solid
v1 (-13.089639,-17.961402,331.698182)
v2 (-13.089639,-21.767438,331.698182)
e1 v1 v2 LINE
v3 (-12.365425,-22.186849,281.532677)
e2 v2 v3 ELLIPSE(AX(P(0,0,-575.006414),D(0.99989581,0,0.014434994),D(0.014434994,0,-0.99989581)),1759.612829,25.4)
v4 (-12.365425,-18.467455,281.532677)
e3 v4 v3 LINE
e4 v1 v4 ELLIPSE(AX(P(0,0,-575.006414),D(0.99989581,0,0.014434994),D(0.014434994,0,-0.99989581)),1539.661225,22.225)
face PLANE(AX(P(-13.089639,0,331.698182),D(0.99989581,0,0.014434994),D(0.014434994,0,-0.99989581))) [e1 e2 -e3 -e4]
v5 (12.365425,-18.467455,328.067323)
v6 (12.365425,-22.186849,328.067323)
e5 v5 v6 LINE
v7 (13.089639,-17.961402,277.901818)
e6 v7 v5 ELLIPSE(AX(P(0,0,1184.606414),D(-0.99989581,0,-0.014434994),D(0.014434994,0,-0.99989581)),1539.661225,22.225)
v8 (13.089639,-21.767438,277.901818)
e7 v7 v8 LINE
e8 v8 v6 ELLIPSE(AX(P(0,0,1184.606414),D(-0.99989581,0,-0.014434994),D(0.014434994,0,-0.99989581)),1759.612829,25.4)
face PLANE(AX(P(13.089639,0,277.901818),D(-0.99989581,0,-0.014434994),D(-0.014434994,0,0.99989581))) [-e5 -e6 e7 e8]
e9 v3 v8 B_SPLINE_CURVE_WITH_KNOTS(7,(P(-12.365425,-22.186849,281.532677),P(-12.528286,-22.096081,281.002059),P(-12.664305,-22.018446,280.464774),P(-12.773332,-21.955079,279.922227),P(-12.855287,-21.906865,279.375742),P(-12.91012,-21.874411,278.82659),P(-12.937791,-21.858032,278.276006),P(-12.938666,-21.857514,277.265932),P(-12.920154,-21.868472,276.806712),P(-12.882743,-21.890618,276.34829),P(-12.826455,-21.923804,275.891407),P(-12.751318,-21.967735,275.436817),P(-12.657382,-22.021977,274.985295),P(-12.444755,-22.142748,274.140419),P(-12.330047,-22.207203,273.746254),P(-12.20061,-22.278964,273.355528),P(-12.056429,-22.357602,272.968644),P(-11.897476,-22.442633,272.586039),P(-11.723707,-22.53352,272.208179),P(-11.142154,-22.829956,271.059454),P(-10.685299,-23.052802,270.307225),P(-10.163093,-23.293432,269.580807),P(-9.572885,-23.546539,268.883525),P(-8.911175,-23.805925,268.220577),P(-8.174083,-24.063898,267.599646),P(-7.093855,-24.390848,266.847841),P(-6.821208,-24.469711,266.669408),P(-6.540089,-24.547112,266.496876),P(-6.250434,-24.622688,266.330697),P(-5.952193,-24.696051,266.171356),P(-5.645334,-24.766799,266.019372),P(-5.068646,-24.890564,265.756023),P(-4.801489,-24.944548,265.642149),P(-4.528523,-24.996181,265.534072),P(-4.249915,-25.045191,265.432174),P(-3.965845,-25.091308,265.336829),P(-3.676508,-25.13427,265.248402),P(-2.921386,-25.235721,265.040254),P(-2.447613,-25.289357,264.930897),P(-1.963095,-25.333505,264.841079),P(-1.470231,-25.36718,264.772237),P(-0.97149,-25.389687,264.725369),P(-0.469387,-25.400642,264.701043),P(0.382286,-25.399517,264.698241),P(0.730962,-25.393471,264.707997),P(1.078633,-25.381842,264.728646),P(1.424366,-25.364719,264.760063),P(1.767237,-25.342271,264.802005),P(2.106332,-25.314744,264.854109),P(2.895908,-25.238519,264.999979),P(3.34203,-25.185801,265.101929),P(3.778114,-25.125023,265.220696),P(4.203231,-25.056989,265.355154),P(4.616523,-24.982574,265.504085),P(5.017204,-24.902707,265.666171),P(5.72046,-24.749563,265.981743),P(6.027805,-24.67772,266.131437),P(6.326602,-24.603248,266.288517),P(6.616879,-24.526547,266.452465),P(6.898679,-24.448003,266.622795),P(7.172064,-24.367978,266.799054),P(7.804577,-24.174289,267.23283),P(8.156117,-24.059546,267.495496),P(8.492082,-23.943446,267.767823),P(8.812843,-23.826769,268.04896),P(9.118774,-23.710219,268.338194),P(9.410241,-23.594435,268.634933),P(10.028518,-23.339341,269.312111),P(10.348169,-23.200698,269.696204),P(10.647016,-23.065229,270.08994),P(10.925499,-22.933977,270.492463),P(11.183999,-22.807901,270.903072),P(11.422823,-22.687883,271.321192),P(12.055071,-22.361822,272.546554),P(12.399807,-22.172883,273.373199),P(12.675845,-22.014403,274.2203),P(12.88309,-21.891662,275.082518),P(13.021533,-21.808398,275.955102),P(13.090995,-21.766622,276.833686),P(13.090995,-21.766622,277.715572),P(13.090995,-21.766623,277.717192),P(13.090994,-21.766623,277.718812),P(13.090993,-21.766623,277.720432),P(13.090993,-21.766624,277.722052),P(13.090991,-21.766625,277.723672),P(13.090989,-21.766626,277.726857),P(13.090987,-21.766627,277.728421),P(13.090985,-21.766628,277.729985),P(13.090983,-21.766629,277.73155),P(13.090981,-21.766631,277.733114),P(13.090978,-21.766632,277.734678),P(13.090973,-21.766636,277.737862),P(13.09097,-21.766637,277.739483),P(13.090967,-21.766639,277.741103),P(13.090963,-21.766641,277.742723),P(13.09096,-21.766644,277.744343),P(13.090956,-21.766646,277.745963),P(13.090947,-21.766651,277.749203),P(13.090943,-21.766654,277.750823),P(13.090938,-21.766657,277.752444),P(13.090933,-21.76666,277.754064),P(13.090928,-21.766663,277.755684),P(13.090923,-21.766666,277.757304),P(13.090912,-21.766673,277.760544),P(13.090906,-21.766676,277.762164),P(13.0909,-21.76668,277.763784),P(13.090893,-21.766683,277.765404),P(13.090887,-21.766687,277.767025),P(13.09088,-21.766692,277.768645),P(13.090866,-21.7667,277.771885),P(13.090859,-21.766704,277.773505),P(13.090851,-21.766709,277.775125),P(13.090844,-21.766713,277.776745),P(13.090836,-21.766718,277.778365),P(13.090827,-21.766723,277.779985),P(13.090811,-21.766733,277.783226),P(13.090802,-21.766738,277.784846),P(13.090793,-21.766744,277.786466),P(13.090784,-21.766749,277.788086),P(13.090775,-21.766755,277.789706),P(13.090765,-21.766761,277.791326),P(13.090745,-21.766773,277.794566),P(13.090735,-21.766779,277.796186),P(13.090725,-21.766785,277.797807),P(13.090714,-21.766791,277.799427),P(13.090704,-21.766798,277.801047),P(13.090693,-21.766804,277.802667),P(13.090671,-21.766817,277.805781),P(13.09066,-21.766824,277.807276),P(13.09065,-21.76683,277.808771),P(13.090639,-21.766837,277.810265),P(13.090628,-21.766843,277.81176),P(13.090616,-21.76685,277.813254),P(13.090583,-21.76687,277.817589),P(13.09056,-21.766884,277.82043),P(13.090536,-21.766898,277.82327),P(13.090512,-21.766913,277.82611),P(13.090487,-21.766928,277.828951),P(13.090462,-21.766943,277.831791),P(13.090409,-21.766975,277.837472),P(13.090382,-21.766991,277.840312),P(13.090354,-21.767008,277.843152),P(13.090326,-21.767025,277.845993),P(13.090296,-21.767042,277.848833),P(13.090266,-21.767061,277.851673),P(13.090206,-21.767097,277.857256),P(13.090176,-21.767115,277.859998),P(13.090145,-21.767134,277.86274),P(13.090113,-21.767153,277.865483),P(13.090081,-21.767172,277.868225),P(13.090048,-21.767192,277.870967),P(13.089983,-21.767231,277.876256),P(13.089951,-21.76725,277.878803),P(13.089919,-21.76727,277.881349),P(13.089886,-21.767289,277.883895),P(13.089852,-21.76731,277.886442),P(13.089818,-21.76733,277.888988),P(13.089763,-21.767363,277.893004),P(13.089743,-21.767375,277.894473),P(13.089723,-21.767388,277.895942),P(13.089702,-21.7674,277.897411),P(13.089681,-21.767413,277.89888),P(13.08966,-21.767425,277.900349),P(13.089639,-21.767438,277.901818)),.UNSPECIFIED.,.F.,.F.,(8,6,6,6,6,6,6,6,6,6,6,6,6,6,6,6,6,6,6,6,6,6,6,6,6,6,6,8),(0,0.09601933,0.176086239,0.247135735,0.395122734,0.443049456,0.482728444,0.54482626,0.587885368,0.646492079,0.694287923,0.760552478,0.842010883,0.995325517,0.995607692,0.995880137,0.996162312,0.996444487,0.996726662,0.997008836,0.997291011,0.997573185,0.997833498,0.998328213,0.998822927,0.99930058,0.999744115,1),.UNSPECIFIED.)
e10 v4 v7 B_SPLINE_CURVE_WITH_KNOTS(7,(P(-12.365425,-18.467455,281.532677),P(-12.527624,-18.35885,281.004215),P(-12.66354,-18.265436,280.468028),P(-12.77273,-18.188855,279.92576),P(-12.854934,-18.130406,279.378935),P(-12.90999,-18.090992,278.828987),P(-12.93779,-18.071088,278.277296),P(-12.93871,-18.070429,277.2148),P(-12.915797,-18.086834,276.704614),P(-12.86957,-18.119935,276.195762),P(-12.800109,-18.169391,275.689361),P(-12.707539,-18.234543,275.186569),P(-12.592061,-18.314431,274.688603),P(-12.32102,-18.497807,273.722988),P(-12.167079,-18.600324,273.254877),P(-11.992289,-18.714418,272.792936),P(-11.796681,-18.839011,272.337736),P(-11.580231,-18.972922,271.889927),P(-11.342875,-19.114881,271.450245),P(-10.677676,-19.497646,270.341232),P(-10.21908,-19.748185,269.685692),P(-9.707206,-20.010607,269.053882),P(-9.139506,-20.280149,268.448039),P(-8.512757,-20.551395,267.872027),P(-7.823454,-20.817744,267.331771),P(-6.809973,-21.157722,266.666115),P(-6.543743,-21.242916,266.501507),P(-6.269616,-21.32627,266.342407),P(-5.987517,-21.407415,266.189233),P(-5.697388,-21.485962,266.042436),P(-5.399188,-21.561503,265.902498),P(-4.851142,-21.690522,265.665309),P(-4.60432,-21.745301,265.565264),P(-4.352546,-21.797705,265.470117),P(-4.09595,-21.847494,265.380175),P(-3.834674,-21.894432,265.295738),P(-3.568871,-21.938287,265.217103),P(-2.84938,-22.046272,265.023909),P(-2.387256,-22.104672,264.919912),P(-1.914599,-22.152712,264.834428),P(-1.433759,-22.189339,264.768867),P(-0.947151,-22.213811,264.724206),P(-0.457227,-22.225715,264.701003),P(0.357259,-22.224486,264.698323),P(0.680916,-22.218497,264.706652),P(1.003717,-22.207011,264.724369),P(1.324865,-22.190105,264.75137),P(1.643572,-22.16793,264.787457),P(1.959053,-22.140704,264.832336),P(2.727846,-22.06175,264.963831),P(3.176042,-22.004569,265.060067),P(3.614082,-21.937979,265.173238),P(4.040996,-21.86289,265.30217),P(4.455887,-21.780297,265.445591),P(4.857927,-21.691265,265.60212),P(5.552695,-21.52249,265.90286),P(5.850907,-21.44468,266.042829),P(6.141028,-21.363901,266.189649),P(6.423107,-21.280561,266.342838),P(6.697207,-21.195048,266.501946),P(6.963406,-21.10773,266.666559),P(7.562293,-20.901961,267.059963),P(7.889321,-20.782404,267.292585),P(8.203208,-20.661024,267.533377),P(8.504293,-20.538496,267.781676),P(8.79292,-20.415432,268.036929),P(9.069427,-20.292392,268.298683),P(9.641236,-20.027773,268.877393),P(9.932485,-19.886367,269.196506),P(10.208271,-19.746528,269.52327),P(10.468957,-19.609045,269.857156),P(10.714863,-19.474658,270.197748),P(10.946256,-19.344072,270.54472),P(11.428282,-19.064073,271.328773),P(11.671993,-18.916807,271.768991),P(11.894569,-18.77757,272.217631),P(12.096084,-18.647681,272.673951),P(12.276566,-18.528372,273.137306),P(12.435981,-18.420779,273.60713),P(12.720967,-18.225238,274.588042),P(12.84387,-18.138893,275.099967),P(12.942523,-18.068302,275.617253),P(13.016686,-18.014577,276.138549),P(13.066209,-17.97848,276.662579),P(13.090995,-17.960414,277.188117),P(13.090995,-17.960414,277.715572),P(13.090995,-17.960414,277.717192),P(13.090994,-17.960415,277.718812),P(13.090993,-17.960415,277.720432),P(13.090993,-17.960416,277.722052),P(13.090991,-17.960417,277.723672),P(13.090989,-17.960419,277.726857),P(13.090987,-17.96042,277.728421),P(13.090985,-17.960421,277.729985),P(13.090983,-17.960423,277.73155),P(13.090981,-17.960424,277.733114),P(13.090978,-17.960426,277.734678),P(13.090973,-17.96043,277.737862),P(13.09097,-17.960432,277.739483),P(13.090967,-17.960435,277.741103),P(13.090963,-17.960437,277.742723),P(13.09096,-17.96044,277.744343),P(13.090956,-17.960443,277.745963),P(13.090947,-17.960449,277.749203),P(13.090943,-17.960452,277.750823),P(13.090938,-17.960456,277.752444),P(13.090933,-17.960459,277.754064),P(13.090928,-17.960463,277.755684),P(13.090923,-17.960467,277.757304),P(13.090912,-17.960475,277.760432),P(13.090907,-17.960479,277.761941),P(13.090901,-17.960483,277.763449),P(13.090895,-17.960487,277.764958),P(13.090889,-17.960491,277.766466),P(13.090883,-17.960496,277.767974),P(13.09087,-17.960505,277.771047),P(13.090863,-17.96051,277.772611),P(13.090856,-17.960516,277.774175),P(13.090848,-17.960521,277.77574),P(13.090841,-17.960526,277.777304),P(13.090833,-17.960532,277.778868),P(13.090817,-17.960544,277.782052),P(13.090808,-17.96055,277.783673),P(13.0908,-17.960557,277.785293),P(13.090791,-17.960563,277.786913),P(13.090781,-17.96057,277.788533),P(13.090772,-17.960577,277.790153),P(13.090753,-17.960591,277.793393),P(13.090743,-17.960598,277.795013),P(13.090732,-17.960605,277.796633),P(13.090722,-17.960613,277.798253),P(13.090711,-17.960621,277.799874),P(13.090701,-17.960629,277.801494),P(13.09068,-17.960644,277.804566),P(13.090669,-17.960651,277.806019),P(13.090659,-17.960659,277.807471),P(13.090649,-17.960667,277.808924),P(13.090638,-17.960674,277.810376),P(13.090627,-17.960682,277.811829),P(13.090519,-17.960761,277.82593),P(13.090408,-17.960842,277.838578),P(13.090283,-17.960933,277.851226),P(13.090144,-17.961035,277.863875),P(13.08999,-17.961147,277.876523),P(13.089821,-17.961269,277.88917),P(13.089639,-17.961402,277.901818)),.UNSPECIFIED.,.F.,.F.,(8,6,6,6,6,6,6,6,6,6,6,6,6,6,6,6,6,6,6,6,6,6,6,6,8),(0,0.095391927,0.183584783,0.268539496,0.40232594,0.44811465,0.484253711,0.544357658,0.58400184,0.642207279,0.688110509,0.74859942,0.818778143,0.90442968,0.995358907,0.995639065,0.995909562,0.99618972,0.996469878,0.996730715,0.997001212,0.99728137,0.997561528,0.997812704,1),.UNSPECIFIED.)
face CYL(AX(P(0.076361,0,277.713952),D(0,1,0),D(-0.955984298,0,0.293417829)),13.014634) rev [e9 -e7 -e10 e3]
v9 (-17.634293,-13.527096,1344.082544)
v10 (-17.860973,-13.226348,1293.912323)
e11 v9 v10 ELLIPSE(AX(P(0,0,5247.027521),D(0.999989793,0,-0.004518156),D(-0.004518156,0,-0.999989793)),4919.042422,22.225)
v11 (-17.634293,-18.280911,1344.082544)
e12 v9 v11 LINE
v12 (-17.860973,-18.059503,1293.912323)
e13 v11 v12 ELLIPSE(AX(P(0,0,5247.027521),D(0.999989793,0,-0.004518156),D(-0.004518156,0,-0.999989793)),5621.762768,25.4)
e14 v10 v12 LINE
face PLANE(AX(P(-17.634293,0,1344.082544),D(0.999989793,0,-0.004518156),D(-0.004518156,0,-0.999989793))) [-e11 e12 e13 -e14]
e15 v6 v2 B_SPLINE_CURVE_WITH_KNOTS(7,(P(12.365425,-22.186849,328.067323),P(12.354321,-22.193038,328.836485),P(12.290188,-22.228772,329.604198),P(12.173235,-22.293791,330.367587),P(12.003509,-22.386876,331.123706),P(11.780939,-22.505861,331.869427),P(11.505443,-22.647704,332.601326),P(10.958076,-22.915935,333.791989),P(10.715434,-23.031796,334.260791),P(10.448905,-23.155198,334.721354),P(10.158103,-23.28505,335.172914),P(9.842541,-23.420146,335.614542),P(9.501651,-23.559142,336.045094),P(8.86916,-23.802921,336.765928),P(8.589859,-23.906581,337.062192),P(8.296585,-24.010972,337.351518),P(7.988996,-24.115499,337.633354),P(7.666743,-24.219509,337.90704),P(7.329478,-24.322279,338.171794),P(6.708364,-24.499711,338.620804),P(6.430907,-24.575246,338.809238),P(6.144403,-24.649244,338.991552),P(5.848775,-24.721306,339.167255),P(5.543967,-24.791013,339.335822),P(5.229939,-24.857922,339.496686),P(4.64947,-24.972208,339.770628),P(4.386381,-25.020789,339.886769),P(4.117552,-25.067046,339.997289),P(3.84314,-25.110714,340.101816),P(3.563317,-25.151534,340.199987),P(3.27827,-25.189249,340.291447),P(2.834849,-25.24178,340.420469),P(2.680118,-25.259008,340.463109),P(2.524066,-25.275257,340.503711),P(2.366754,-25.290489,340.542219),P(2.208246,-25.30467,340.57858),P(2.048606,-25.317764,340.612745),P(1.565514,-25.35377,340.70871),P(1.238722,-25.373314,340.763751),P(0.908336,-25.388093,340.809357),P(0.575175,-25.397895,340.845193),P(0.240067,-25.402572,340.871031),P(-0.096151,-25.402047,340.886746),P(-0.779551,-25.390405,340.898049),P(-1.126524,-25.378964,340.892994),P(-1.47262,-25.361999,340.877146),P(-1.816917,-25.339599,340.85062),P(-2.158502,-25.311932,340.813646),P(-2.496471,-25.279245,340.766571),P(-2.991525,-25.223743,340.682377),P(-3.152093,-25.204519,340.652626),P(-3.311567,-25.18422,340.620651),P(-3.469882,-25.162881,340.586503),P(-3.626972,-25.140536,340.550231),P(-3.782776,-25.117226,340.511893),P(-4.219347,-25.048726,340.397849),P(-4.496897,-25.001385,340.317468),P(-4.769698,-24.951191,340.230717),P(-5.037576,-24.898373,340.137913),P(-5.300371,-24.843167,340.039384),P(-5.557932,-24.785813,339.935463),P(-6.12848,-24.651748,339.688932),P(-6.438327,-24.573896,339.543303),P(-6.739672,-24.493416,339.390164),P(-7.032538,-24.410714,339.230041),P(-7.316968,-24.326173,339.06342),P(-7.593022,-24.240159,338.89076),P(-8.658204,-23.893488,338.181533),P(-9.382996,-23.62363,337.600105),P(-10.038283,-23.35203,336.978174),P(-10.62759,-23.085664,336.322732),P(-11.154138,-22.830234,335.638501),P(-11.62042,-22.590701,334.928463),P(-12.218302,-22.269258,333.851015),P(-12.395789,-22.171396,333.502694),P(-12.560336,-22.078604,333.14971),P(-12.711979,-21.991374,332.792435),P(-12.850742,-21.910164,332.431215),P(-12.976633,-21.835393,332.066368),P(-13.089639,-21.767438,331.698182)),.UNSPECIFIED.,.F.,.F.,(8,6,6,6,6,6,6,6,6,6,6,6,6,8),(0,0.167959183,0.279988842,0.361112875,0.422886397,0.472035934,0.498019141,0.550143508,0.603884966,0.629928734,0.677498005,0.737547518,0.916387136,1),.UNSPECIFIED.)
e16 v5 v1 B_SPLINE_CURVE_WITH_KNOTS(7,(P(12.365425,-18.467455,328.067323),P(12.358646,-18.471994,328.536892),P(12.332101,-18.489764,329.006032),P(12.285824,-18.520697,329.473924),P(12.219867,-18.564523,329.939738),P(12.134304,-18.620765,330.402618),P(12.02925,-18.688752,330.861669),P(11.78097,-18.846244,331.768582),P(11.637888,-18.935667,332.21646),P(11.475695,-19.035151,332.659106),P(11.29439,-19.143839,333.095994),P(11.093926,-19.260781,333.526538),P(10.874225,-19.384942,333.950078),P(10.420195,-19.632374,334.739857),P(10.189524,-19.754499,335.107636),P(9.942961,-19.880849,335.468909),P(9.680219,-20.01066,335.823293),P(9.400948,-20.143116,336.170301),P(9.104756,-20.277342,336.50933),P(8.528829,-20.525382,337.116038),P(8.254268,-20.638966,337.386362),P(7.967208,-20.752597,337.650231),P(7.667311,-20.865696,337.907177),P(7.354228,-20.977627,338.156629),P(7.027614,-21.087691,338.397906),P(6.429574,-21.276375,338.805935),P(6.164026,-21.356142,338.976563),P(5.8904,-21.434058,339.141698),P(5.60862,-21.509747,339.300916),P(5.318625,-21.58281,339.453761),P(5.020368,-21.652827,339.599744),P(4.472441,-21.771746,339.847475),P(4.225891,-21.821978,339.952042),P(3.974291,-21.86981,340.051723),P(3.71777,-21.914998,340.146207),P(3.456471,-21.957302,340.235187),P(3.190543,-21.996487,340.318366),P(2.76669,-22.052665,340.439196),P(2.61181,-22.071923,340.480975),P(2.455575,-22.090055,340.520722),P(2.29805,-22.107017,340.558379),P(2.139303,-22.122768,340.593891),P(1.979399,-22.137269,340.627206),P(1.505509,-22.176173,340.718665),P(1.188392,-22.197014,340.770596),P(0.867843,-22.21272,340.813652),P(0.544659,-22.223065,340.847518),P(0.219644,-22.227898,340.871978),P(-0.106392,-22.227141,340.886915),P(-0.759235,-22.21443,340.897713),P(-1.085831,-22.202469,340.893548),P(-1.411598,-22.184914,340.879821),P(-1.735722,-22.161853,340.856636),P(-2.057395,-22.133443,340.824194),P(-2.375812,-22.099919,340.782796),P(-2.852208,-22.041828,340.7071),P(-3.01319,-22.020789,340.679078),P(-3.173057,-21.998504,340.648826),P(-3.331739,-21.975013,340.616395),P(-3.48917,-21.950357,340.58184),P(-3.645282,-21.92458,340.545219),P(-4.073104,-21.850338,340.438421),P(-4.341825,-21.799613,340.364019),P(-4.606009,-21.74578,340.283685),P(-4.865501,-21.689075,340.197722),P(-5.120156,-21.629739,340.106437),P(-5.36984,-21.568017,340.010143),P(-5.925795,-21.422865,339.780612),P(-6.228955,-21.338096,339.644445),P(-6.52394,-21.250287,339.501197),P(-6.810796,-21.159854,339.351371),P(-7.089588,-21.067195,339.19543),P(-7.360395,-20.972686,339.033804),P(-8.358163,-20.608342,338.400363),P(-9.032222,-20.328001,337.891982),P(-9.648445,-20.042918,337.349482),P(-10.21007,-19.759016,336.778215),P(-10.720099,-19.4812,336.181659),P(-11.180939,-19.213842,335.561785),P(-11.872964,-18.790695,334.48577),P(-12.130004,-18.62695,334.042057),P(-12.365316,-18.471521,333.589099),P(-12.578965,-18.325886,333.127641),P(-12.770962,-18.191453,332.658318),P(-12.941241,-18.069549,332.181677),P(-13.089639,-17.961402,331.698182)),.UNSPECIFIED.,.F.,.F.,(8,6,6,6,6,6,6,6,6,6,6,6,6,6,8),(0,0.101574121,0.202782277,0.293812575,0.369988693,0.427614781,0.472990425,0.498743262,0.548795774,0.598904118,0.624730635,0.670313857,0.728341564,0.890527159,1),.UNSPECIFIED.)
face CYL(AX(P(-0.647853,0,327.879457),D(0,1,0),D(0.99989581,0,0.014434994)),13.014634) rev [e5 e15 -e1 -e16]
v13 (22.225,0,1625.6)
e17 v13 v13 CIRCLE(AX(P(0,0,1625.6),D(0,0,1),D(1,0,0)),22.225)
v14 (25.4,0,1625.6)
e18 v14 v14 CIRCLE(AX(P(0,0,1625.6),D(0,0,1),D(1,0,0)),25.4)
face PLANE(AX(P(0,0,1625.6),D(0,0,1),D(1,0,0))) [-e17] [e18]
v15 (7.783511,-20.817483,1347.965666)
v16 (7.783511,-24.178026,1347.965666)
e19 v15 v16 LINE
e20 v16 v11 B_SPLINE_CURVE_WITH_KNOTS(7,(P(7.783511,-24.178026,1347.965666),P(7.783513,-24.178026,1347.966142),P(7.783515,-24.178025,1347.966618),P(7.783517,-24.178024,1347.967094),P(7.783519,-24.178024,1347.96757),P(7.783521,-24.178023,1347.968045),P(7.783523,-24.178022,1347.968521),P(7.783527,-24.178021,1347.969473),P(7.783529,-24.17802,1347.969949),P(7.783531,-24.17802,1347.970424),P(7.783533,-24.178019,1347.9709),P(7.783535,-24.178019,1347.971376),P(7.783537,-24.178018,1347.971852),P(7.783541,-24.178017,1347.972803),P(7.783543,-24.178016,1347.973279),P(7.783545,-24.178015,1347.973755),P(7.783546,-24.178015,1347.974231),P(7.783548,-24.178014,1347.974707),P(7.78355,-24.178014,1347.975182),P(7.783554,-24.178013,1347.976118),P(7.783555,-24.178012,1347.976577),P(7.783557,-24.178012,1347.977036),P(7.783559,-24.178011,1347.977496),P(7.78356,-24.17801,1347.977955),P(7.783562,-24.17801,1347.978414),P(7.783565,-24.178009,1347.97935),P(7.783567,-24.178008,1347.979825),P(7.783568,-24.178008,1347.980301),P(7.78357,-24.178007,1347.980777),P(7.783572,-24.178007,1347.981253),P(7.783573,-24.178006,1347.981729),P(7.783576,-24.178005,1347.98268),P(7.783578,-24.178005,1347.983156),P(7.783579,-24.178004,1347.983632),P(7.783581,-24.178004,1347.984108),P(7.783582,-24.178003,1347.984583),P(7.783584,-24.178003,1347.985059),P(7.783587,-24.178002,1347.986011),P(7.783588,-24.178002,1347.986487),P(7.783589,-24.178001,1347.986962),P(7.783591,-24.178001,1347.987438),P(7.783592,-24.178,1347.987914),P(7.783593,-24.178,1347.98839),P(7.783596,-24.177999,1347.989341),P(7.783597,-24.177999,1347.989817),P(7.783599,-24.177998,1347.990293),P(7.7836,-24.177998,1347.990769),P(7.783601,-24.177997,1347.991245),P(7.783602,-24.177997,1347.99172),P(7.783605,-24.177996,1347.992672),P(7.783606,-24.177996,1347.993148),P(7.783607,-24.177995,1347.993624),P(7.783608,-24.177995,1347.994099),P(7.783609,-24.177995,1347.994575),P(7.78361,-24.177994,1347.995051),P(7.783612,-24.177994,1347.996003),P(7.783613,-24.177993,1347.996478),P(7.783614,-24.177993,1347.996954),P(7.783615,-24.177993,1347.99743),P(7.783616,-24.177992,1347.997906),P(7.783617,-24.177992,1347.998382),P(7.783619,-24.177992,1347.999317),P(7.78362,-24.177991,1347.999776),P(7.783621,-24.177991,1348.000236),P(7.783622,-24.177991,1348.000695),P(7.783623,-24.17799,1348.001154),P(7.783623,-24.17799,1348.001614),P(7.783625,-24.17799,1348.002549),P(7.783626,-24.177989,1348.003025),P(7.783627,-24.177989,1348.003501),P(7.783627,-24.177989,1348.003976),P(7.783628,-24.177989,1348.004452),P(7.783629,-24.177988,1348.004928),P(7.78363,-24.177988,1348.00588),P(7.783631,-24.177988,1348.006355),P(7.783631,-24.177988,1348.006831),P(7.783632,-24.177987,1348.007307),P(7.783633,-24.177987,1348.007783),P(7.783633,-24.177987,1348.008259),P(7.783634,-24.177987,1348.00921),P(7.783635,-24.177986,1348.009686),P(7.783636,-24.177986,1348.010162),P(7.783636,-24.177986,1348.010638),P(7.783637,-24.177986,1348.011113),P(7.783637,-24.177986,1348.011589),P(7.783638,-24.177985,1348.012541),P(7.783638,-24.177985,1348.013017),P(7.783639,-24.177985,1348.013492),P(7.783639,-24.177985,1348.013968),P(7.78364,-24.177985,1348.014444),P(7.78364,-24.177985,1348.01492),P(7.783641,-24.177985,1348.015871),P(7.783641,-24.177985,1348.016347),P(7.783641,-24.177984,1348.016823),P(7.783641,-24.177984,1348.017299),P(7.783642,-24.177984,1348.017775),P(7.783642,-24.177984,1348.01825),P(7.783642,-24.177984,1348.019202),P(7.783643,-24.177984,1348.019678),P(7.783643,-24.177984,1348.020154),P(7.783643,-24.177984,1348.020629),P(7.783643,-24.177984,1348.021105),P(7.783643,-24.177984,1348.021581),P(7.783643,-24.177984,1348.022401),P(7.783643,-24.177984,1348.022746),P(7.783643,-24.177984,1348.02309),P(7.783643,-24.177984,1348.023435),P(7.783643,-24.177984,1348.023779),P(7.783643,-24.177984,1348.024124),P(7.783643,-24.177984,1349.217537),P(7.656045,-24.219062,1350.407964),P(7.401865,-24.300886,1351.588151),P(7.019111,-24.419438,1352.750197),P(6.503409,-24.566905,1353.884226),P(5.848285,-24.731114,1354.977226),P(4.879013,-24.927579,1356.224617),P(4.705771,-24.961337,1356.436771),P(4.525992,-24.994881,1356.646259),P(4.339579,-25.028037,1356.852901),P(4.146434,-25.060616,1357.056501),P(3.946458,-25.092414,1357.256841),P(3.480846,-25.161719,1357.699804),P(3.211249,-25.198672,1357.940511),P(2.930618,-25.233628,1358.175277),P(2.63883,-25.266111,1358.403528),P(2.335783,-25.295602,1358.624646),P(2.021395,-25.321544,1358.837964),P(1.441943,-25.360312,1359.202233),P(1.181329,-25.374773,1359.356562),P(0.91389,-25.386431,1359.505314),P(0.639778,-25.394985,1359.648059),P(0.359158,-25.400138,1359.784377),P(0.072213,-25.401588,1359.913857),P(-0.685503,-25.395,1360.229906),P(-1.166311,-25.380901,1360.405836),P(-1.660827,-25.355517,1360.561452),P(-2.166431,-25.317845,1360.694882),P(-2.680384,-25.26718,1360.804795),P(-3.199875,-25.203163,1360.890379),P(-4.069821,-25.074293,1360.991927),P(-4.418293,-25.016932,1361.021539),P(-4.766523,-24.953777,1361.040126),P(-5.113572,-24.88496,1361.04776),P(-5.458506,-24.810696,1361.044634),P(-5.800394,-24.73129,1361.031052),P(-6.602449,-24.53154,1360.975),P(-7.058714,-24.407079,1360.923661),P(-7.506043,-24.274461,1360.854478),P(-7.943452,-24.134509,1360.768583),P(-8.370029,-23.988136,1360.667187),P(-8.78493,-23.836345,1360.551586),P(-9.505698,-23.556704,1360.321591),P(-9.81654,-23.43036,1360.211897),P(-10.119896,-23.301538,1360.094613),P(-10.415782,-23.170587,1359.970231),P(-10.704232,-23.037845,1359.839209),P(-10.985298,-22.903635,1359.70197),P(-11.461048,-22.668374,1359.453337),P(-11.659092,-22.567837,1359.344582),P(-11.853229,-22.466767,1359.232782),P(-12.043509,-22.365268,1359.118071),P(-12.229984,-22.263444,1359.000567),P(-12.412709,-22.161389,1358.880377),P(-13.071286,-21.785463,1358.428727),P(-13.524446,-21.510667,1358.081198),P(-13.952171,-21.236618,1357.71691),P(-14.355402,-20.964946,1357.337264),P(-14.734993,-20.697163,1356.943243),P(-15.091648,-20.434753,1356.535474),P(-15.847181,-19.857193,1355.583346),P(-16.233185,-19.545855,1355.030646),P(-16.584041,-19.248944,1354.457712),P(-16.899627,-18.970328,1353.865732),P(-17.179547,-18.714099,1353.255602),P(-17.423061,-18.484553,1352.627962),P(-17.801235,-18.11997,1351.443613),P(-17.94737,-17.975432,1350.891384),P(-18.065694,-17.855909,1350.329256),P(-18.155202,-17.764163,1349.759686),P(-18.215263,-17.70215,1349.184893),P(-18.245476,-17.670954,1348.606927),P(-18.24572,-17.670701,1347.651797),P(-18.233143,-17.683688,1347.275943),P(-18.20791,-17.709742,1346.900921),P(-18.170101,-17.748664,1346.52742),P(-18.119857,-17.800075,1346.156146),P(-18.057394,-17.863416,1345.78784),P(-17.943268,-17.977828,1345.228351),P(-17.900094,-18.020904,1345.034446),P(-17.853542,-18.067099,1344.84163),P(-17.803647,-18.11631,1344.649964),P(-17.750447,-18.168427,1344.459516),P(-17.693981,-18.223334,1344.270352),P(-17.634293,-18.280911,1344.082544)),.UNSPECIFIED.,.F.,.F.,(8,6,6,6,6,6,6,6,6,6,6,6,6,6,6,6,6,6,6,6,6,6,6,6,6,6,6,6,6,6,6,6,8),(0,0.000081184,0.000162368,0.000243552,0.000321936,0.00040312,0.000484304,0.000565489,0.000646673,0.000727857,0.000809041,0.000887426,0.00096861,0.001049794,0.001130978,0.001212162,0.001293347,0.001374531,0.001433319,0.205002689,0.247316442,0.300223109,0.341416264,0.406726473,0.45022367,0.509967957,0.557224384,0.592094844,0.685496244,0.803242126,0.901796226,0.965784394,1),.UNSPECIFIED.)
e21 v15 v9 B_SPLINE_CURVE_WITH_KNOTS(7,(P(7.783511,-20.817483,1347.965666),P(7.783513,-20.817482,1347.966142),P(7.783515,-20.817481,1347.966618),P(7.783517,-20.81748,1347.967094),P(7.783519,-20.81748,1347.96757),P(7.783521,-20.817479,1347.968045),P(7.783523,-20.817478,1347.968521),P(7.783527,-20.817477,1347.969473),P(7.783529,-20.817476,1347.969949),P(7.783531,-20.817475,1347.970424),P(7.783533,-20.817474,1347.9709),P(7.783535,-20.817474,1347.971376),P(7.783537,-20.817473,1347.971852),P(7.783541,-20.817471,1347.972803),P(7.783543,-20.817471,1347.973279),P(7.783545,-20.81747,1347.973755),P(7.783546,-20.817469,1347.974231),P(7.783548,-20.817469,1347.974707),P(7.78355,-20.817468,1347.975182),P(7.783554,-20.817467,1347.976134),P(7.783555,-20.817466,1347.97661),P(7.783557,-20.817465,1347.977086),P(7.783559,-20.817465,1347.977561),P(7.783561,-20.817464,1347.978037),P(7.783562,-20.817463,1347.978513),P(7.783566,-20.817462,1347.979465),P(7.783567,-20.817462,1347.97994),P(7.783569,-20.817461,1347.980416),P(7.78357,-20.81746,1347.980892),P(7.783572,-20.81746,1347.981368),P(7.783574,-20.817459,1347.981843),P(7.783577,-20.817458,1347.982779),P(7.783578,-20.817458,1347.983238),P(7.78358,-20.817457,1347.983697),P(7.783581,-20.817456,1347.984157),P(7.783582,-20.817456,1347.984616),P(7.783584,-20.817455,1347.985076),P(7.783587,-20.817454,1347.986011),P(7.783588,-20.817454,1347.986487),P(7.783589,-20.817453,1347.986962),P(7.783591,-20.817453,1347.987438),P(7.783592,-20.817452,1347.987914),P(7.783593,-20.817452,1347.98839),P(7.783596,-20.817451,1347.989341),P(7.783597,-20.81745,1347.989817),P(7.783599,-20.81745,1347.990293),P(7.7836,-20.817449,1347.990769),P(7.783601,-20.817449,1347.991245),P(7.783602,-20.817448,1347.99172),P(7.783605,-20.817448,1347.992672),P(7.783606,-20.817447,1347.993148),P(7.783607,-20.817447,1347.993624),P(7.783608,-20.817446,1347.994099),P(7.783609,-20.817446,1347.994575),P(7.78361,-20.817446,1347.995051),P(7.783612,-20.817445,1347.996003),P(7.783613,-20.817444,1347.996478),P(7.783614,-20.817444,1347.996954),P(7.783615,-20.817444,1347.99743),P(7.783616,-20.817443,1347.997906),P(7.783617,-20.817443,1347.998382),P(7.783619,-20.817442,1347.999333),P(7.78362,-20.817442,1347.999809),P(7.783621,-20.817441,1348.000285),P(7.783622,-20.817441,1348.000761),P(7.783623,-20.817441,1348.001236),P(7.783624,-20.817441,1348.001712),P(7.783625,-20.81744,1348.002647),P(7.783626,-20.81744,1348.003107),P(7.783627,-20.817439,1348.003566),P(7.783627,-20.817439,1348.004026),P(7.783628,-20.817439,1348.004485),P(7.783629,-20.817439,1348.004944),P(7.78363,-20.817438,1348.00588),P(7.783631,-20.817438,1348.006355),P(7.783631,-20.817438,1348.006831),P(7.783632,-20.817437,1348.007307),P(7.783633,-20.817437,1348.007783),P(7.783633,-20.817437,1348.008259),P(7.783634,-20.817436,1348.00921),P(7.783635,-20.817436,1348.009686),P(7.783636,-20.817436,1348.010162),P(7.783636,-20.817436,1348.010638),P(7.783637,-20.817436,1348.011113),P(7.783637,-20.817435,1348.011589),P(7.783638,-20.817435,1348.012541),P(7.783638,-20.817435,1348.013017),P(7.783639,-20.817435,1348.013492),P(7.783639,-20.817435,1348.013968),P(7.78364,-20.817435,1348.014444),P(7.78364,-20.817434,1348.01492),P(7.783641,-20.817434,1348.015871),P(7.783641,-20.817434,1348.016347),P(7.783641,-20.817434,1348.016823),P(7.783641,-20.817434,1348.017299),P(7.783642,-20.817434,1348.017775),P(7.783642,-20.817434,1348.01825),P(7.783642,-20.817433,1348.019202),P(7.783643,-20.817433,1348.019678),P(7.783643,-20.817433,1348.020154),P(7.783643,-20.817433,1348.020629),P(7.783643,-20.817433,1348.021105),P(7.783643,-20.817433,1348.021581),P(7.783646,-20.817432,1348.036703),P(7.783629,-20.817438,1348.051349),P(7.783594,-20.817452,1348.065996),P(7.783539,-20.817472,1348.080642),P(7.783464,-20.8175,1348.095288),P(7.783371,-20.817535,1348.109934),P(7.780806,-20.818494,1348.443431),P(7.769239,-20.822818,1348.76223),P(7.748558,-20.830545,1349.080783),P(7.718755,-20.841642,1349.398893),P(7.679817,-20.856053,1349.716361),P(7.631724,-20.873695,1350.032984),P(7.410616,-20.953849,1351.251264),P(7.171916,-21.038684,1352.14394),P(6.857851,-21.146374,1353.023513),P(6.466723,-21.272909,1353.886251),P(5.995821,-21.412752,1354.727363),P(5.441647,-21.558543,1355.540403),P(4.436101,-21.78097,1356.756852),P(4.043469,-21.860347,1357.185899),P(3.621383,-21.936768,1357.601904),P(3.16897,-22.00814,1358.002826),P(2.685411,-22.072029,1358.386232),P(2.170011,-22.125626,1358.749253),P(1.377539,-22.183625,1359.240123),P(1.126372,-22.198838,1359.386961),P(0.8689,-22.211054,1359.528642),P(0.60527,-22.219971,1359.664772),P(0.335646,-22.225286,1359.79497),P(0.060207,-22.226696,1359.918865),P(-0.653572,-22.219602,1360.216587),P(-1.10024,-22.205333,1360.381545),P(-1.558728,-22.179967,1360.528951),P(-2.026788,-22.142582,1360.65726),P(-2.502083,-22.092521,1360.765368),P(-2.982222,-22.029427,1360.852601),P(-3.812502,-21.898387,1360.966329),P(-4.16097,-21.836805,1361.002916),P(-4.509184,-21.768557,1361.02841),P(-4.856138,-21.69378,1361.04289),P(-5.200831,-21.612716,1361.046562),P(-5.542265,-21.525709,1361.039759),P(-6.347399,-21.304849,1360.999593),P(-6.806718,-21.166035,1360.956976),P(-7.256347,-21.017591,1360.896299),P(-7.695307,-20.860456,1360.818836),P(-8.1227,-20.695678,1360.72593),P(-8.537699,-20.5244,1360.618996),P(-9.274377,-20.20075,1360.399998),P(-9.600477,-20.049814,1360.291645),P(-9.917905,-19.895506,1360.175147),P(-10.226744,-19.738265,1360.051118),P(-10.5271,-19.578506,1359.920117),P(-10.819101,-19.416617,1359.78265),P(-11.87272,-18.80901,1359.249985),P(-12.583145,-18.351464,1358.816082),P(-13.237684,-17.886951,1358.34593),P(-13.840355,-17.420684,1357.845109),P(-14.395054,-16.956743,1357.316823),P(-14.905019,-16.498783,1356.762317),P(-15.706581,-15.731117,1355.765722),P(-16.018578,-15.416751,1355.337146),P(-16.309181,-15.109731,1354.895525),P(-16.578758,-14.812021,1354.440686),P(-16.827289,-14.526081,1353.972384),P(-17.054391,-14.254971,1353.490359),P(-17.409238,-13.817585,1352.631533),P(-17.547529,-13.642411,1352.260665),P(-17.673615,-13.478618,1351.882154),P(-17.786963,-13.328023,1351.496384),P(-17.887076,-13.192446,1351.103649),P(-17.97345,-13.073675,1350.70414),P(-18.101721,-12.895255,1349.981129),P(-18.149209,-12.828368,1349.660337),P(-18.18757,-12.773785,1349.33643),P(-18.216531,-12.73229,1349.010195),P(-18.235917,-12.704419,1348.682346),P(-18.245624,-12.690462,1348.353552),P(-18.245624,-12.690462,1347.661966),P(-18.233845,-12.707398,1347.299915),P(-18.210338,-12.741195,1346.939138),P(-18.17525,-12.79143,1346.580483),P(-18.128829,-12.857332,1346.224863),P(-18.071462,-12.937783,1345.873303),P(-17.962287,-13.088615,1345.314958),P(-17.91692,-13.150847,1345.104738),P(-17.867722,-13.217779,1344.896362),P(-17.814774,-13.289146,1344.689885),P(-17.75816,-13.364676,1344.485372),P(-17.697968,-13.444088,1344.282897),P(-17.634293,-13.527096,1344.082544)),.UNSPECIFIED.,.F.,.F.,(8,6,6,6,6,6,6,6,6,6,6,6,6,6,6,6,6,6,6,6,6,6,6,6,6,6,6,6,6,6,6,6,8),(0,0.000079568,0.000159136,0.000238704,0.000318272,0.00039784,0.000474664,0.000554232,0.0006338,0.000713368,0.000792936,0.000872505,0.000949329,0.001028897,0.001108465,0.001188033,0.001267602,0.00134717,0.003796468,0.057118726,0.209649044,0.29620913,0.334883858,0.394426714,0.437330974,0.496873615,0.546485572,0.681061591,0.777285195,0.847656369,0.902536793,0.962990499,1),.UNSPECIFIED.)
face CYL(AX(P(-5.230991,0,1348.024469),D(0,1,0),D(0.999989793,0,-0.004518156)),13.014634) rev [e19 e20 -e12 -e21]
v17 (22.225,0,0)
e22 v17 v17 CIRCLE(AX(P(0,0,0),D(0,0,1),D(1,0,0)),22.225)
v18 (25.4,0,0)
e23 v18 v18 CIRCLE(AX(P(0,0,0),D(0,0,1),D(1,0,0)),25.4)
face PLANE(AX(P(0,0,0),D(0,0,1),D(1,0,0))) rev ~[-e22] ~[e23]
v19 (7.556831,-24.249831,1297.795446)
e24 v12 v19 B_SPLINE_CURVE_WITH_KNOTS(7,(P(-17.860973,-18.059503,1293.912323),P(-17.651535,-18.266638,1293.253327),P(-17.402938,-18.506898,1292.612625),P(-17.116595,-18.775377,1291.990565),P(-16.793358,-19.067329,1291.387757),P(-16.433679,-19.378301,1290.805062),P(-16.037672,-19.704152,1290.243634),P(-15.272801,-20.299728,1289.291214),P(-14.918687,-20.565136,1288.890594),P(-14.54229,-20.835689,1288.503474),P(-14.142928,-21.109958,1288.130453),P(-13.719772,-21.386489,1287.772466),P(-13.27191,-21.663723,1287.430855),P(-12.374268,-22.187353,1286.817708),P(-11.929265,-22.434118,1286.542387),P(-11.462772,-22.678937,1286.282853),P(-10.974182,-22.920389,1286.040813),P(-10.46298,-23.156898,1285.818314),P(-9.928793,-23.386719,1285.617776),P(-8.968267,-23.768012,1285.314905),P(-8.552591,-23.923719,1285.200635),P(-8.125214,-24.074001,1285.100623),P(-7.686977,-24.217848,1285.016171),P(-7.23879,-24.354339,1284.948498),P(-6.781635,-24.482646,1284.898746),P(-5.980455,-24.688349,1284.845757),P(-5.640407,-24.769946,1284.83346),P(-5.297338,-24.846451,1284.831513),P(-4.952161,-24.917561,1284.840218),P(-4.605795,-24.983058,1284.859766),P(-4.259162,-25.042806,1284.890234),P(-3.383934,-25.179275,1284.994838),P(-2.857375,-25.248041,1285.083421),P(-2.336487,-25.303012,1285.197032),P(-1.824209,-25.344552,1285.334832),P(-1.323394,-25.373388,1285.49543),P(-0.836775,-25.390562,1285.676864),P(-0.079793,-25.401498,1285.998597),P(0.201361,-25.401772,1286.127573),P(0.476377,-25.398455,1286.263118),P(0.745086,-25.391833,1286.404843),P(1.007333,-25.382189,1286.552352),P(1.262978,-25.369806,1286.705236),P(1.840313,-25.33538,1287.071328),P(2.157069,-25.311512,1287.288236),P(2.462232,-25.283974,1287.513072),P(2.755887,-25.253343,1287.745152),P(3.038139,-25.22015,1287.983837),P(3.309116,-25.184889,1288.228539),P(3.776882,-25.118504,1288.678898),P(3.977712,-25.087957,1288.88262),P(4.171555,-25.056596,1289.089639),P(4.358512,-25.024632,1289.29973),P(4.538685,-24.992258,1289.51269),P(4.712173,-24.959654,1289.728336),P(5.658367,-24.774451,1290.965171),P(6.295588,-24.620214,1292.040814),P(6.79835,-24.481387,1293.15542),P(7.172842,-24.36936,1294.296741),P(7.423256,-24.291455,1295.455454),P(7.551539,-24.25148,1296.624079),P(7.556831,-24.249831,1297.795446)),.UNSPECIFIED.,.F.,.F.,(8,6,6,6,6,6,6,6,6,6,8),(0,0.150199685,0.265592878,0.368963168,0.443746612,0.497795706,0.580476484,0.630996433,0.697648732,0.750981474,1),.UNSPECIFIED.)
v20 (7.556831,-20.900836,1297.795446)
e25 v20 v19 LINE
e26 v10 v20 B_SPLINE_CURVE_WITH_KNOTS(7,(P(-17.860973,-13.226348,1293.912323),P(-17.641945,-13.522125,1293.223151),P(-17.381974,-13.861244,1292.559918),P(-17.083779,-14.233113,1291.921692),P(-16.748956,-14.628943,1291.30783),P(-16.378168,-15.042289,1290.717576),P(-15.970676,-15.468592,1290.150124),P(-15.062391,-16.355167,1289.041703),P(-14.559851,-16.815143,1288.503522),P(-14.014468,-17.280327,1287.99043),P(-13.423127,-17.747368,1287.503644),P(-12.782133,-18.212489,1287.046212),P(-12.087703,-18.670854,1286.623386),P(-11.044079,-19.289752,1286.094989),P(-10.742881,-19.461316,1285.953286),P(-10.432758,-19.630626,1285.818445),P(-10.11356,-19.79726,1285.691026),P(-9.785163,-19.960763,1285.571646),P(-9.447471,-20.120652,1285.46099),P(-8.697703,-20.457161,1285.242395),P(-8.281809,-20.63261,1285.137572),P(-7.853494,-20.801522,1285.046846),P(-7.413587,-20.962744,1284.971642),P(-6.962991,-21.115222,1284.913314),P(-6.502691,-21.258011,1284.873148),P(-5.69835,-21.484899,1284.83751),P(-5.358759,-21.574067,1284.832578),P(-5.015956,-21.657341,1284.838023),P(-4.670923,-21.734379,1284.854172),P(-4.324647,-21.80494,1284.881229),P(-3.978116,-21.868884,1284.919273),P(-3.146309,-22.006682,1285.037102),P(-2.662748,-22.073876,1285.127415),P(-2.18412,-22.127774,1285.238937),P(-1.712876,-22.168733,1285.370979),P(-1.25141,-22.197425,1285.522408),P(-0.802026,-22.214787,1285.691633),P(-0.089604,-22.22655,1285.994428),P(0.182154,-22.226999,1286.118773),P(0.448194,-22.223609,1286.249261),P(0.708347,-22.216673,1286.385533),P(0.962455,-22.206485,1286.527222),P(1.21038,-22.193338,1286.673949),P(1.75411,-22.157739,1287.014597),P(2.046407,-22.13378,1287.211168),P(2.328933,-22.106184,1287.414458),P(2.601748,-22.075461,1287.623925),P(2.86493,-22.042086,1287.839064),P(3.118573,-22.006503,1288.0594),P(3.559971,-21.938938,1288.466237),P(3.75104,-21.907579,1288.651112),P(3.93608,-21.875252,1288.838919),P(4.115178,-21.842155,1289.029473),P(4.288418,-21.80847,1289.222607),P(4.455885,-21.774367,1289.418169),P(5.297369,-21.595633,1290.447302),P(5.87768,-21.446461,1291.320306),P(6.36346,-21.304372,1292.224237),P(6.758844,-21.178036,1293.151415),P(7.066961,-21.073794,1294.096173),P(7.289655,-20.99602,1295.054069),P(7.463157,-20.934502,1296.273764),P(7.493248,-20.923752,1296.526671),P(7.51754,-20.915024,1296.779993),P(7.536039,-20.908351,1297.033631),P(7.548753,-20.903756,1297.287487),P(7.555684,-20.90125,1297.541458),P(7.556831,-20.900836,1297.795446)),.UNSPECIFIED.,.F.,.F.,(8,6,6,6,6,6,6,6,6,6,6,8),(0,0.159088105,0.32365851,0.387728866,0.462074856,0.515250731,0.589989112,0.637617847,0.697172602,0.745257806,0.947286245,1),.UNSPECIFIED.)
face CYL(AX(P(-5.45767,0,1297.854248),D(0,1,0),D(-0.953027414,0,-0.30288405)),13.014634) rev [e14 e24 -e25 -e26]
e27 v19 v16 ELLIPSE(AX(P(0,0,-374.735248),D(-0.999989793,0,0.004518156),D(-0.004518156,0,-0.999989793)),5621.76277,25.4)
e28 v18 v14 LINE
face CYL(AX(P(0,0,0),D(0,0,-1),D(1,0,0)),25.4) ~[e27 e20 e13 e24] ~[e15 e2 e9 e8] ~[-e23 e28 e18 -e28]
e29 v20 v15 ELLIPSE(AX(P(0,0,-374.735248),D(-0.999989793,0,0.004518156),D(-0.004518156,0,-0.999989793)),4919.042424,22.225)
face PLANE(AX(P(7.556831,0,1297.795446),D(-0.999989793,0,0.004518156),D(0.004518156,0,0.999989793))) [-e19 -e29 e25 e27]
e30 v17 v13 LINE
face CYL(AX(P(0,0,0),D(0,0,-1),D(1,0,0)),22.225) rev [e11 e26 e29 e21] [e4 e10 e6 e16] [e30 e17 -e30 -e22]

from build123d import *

# Parameters (mm, degrees)
F1_R     = 25.4
F1_R_2   = 22.225
F2_DEPTH = 1625.6
F4_DEPTH = 50


with BuildPart() as f2:
    # F1 (on Top) → F2 (new body)
    with BuildSketch(Plane.XY):
        Circle(F1_R)
        Circle(F1_R_2, mode=Mode.SUBTRACT)
    extrude(amount=F2_DEPTH)

    # F3 (on Front) → F4 (cut)
    with BuildSketch(Plane.XZ):
        with BuildLine():
            ThreePointArc((12.3654246976, 328.0673227027), (1.1899269468, 340.763681787), (-13.0896388975, 331.698182172))
            Line((-13.0896388975, 331.698182172), (-12.3654246976, 281.5326772973))
            ThreePointArc((-12.3654246976, 281.5326772973), (-1.7614192029, 264.8297264279), (13.0896388975, 277.901817828))
            Line((13.0896388975, 277.901817828), (12.3654246976, 328.0673227027))
        make_face()
        with BuildLine():
            ThreePointArc((-17.8609726221, 1293.9123234562), (-3.4922049716, 1284.9888824058), (7.5568313695, 1297.7954463442))
            Line((7.5568313695, 1297.7954463442), (7.7835105534, 1347.9656664163))
            ThreePointArc((7.7835105534, 1347.9656664163), (-7.1964552661, 1360.8898346418), (-17.6342934381, 1344.0825435284))
            Line((-17.6342934381, 1344.0825435284), (-17.8609726221, 1293.9123234562))
        make_face()
    extrude(amount=F4_DEPTH, mode=Mode.SUBTRACT)


solid = f2.part
